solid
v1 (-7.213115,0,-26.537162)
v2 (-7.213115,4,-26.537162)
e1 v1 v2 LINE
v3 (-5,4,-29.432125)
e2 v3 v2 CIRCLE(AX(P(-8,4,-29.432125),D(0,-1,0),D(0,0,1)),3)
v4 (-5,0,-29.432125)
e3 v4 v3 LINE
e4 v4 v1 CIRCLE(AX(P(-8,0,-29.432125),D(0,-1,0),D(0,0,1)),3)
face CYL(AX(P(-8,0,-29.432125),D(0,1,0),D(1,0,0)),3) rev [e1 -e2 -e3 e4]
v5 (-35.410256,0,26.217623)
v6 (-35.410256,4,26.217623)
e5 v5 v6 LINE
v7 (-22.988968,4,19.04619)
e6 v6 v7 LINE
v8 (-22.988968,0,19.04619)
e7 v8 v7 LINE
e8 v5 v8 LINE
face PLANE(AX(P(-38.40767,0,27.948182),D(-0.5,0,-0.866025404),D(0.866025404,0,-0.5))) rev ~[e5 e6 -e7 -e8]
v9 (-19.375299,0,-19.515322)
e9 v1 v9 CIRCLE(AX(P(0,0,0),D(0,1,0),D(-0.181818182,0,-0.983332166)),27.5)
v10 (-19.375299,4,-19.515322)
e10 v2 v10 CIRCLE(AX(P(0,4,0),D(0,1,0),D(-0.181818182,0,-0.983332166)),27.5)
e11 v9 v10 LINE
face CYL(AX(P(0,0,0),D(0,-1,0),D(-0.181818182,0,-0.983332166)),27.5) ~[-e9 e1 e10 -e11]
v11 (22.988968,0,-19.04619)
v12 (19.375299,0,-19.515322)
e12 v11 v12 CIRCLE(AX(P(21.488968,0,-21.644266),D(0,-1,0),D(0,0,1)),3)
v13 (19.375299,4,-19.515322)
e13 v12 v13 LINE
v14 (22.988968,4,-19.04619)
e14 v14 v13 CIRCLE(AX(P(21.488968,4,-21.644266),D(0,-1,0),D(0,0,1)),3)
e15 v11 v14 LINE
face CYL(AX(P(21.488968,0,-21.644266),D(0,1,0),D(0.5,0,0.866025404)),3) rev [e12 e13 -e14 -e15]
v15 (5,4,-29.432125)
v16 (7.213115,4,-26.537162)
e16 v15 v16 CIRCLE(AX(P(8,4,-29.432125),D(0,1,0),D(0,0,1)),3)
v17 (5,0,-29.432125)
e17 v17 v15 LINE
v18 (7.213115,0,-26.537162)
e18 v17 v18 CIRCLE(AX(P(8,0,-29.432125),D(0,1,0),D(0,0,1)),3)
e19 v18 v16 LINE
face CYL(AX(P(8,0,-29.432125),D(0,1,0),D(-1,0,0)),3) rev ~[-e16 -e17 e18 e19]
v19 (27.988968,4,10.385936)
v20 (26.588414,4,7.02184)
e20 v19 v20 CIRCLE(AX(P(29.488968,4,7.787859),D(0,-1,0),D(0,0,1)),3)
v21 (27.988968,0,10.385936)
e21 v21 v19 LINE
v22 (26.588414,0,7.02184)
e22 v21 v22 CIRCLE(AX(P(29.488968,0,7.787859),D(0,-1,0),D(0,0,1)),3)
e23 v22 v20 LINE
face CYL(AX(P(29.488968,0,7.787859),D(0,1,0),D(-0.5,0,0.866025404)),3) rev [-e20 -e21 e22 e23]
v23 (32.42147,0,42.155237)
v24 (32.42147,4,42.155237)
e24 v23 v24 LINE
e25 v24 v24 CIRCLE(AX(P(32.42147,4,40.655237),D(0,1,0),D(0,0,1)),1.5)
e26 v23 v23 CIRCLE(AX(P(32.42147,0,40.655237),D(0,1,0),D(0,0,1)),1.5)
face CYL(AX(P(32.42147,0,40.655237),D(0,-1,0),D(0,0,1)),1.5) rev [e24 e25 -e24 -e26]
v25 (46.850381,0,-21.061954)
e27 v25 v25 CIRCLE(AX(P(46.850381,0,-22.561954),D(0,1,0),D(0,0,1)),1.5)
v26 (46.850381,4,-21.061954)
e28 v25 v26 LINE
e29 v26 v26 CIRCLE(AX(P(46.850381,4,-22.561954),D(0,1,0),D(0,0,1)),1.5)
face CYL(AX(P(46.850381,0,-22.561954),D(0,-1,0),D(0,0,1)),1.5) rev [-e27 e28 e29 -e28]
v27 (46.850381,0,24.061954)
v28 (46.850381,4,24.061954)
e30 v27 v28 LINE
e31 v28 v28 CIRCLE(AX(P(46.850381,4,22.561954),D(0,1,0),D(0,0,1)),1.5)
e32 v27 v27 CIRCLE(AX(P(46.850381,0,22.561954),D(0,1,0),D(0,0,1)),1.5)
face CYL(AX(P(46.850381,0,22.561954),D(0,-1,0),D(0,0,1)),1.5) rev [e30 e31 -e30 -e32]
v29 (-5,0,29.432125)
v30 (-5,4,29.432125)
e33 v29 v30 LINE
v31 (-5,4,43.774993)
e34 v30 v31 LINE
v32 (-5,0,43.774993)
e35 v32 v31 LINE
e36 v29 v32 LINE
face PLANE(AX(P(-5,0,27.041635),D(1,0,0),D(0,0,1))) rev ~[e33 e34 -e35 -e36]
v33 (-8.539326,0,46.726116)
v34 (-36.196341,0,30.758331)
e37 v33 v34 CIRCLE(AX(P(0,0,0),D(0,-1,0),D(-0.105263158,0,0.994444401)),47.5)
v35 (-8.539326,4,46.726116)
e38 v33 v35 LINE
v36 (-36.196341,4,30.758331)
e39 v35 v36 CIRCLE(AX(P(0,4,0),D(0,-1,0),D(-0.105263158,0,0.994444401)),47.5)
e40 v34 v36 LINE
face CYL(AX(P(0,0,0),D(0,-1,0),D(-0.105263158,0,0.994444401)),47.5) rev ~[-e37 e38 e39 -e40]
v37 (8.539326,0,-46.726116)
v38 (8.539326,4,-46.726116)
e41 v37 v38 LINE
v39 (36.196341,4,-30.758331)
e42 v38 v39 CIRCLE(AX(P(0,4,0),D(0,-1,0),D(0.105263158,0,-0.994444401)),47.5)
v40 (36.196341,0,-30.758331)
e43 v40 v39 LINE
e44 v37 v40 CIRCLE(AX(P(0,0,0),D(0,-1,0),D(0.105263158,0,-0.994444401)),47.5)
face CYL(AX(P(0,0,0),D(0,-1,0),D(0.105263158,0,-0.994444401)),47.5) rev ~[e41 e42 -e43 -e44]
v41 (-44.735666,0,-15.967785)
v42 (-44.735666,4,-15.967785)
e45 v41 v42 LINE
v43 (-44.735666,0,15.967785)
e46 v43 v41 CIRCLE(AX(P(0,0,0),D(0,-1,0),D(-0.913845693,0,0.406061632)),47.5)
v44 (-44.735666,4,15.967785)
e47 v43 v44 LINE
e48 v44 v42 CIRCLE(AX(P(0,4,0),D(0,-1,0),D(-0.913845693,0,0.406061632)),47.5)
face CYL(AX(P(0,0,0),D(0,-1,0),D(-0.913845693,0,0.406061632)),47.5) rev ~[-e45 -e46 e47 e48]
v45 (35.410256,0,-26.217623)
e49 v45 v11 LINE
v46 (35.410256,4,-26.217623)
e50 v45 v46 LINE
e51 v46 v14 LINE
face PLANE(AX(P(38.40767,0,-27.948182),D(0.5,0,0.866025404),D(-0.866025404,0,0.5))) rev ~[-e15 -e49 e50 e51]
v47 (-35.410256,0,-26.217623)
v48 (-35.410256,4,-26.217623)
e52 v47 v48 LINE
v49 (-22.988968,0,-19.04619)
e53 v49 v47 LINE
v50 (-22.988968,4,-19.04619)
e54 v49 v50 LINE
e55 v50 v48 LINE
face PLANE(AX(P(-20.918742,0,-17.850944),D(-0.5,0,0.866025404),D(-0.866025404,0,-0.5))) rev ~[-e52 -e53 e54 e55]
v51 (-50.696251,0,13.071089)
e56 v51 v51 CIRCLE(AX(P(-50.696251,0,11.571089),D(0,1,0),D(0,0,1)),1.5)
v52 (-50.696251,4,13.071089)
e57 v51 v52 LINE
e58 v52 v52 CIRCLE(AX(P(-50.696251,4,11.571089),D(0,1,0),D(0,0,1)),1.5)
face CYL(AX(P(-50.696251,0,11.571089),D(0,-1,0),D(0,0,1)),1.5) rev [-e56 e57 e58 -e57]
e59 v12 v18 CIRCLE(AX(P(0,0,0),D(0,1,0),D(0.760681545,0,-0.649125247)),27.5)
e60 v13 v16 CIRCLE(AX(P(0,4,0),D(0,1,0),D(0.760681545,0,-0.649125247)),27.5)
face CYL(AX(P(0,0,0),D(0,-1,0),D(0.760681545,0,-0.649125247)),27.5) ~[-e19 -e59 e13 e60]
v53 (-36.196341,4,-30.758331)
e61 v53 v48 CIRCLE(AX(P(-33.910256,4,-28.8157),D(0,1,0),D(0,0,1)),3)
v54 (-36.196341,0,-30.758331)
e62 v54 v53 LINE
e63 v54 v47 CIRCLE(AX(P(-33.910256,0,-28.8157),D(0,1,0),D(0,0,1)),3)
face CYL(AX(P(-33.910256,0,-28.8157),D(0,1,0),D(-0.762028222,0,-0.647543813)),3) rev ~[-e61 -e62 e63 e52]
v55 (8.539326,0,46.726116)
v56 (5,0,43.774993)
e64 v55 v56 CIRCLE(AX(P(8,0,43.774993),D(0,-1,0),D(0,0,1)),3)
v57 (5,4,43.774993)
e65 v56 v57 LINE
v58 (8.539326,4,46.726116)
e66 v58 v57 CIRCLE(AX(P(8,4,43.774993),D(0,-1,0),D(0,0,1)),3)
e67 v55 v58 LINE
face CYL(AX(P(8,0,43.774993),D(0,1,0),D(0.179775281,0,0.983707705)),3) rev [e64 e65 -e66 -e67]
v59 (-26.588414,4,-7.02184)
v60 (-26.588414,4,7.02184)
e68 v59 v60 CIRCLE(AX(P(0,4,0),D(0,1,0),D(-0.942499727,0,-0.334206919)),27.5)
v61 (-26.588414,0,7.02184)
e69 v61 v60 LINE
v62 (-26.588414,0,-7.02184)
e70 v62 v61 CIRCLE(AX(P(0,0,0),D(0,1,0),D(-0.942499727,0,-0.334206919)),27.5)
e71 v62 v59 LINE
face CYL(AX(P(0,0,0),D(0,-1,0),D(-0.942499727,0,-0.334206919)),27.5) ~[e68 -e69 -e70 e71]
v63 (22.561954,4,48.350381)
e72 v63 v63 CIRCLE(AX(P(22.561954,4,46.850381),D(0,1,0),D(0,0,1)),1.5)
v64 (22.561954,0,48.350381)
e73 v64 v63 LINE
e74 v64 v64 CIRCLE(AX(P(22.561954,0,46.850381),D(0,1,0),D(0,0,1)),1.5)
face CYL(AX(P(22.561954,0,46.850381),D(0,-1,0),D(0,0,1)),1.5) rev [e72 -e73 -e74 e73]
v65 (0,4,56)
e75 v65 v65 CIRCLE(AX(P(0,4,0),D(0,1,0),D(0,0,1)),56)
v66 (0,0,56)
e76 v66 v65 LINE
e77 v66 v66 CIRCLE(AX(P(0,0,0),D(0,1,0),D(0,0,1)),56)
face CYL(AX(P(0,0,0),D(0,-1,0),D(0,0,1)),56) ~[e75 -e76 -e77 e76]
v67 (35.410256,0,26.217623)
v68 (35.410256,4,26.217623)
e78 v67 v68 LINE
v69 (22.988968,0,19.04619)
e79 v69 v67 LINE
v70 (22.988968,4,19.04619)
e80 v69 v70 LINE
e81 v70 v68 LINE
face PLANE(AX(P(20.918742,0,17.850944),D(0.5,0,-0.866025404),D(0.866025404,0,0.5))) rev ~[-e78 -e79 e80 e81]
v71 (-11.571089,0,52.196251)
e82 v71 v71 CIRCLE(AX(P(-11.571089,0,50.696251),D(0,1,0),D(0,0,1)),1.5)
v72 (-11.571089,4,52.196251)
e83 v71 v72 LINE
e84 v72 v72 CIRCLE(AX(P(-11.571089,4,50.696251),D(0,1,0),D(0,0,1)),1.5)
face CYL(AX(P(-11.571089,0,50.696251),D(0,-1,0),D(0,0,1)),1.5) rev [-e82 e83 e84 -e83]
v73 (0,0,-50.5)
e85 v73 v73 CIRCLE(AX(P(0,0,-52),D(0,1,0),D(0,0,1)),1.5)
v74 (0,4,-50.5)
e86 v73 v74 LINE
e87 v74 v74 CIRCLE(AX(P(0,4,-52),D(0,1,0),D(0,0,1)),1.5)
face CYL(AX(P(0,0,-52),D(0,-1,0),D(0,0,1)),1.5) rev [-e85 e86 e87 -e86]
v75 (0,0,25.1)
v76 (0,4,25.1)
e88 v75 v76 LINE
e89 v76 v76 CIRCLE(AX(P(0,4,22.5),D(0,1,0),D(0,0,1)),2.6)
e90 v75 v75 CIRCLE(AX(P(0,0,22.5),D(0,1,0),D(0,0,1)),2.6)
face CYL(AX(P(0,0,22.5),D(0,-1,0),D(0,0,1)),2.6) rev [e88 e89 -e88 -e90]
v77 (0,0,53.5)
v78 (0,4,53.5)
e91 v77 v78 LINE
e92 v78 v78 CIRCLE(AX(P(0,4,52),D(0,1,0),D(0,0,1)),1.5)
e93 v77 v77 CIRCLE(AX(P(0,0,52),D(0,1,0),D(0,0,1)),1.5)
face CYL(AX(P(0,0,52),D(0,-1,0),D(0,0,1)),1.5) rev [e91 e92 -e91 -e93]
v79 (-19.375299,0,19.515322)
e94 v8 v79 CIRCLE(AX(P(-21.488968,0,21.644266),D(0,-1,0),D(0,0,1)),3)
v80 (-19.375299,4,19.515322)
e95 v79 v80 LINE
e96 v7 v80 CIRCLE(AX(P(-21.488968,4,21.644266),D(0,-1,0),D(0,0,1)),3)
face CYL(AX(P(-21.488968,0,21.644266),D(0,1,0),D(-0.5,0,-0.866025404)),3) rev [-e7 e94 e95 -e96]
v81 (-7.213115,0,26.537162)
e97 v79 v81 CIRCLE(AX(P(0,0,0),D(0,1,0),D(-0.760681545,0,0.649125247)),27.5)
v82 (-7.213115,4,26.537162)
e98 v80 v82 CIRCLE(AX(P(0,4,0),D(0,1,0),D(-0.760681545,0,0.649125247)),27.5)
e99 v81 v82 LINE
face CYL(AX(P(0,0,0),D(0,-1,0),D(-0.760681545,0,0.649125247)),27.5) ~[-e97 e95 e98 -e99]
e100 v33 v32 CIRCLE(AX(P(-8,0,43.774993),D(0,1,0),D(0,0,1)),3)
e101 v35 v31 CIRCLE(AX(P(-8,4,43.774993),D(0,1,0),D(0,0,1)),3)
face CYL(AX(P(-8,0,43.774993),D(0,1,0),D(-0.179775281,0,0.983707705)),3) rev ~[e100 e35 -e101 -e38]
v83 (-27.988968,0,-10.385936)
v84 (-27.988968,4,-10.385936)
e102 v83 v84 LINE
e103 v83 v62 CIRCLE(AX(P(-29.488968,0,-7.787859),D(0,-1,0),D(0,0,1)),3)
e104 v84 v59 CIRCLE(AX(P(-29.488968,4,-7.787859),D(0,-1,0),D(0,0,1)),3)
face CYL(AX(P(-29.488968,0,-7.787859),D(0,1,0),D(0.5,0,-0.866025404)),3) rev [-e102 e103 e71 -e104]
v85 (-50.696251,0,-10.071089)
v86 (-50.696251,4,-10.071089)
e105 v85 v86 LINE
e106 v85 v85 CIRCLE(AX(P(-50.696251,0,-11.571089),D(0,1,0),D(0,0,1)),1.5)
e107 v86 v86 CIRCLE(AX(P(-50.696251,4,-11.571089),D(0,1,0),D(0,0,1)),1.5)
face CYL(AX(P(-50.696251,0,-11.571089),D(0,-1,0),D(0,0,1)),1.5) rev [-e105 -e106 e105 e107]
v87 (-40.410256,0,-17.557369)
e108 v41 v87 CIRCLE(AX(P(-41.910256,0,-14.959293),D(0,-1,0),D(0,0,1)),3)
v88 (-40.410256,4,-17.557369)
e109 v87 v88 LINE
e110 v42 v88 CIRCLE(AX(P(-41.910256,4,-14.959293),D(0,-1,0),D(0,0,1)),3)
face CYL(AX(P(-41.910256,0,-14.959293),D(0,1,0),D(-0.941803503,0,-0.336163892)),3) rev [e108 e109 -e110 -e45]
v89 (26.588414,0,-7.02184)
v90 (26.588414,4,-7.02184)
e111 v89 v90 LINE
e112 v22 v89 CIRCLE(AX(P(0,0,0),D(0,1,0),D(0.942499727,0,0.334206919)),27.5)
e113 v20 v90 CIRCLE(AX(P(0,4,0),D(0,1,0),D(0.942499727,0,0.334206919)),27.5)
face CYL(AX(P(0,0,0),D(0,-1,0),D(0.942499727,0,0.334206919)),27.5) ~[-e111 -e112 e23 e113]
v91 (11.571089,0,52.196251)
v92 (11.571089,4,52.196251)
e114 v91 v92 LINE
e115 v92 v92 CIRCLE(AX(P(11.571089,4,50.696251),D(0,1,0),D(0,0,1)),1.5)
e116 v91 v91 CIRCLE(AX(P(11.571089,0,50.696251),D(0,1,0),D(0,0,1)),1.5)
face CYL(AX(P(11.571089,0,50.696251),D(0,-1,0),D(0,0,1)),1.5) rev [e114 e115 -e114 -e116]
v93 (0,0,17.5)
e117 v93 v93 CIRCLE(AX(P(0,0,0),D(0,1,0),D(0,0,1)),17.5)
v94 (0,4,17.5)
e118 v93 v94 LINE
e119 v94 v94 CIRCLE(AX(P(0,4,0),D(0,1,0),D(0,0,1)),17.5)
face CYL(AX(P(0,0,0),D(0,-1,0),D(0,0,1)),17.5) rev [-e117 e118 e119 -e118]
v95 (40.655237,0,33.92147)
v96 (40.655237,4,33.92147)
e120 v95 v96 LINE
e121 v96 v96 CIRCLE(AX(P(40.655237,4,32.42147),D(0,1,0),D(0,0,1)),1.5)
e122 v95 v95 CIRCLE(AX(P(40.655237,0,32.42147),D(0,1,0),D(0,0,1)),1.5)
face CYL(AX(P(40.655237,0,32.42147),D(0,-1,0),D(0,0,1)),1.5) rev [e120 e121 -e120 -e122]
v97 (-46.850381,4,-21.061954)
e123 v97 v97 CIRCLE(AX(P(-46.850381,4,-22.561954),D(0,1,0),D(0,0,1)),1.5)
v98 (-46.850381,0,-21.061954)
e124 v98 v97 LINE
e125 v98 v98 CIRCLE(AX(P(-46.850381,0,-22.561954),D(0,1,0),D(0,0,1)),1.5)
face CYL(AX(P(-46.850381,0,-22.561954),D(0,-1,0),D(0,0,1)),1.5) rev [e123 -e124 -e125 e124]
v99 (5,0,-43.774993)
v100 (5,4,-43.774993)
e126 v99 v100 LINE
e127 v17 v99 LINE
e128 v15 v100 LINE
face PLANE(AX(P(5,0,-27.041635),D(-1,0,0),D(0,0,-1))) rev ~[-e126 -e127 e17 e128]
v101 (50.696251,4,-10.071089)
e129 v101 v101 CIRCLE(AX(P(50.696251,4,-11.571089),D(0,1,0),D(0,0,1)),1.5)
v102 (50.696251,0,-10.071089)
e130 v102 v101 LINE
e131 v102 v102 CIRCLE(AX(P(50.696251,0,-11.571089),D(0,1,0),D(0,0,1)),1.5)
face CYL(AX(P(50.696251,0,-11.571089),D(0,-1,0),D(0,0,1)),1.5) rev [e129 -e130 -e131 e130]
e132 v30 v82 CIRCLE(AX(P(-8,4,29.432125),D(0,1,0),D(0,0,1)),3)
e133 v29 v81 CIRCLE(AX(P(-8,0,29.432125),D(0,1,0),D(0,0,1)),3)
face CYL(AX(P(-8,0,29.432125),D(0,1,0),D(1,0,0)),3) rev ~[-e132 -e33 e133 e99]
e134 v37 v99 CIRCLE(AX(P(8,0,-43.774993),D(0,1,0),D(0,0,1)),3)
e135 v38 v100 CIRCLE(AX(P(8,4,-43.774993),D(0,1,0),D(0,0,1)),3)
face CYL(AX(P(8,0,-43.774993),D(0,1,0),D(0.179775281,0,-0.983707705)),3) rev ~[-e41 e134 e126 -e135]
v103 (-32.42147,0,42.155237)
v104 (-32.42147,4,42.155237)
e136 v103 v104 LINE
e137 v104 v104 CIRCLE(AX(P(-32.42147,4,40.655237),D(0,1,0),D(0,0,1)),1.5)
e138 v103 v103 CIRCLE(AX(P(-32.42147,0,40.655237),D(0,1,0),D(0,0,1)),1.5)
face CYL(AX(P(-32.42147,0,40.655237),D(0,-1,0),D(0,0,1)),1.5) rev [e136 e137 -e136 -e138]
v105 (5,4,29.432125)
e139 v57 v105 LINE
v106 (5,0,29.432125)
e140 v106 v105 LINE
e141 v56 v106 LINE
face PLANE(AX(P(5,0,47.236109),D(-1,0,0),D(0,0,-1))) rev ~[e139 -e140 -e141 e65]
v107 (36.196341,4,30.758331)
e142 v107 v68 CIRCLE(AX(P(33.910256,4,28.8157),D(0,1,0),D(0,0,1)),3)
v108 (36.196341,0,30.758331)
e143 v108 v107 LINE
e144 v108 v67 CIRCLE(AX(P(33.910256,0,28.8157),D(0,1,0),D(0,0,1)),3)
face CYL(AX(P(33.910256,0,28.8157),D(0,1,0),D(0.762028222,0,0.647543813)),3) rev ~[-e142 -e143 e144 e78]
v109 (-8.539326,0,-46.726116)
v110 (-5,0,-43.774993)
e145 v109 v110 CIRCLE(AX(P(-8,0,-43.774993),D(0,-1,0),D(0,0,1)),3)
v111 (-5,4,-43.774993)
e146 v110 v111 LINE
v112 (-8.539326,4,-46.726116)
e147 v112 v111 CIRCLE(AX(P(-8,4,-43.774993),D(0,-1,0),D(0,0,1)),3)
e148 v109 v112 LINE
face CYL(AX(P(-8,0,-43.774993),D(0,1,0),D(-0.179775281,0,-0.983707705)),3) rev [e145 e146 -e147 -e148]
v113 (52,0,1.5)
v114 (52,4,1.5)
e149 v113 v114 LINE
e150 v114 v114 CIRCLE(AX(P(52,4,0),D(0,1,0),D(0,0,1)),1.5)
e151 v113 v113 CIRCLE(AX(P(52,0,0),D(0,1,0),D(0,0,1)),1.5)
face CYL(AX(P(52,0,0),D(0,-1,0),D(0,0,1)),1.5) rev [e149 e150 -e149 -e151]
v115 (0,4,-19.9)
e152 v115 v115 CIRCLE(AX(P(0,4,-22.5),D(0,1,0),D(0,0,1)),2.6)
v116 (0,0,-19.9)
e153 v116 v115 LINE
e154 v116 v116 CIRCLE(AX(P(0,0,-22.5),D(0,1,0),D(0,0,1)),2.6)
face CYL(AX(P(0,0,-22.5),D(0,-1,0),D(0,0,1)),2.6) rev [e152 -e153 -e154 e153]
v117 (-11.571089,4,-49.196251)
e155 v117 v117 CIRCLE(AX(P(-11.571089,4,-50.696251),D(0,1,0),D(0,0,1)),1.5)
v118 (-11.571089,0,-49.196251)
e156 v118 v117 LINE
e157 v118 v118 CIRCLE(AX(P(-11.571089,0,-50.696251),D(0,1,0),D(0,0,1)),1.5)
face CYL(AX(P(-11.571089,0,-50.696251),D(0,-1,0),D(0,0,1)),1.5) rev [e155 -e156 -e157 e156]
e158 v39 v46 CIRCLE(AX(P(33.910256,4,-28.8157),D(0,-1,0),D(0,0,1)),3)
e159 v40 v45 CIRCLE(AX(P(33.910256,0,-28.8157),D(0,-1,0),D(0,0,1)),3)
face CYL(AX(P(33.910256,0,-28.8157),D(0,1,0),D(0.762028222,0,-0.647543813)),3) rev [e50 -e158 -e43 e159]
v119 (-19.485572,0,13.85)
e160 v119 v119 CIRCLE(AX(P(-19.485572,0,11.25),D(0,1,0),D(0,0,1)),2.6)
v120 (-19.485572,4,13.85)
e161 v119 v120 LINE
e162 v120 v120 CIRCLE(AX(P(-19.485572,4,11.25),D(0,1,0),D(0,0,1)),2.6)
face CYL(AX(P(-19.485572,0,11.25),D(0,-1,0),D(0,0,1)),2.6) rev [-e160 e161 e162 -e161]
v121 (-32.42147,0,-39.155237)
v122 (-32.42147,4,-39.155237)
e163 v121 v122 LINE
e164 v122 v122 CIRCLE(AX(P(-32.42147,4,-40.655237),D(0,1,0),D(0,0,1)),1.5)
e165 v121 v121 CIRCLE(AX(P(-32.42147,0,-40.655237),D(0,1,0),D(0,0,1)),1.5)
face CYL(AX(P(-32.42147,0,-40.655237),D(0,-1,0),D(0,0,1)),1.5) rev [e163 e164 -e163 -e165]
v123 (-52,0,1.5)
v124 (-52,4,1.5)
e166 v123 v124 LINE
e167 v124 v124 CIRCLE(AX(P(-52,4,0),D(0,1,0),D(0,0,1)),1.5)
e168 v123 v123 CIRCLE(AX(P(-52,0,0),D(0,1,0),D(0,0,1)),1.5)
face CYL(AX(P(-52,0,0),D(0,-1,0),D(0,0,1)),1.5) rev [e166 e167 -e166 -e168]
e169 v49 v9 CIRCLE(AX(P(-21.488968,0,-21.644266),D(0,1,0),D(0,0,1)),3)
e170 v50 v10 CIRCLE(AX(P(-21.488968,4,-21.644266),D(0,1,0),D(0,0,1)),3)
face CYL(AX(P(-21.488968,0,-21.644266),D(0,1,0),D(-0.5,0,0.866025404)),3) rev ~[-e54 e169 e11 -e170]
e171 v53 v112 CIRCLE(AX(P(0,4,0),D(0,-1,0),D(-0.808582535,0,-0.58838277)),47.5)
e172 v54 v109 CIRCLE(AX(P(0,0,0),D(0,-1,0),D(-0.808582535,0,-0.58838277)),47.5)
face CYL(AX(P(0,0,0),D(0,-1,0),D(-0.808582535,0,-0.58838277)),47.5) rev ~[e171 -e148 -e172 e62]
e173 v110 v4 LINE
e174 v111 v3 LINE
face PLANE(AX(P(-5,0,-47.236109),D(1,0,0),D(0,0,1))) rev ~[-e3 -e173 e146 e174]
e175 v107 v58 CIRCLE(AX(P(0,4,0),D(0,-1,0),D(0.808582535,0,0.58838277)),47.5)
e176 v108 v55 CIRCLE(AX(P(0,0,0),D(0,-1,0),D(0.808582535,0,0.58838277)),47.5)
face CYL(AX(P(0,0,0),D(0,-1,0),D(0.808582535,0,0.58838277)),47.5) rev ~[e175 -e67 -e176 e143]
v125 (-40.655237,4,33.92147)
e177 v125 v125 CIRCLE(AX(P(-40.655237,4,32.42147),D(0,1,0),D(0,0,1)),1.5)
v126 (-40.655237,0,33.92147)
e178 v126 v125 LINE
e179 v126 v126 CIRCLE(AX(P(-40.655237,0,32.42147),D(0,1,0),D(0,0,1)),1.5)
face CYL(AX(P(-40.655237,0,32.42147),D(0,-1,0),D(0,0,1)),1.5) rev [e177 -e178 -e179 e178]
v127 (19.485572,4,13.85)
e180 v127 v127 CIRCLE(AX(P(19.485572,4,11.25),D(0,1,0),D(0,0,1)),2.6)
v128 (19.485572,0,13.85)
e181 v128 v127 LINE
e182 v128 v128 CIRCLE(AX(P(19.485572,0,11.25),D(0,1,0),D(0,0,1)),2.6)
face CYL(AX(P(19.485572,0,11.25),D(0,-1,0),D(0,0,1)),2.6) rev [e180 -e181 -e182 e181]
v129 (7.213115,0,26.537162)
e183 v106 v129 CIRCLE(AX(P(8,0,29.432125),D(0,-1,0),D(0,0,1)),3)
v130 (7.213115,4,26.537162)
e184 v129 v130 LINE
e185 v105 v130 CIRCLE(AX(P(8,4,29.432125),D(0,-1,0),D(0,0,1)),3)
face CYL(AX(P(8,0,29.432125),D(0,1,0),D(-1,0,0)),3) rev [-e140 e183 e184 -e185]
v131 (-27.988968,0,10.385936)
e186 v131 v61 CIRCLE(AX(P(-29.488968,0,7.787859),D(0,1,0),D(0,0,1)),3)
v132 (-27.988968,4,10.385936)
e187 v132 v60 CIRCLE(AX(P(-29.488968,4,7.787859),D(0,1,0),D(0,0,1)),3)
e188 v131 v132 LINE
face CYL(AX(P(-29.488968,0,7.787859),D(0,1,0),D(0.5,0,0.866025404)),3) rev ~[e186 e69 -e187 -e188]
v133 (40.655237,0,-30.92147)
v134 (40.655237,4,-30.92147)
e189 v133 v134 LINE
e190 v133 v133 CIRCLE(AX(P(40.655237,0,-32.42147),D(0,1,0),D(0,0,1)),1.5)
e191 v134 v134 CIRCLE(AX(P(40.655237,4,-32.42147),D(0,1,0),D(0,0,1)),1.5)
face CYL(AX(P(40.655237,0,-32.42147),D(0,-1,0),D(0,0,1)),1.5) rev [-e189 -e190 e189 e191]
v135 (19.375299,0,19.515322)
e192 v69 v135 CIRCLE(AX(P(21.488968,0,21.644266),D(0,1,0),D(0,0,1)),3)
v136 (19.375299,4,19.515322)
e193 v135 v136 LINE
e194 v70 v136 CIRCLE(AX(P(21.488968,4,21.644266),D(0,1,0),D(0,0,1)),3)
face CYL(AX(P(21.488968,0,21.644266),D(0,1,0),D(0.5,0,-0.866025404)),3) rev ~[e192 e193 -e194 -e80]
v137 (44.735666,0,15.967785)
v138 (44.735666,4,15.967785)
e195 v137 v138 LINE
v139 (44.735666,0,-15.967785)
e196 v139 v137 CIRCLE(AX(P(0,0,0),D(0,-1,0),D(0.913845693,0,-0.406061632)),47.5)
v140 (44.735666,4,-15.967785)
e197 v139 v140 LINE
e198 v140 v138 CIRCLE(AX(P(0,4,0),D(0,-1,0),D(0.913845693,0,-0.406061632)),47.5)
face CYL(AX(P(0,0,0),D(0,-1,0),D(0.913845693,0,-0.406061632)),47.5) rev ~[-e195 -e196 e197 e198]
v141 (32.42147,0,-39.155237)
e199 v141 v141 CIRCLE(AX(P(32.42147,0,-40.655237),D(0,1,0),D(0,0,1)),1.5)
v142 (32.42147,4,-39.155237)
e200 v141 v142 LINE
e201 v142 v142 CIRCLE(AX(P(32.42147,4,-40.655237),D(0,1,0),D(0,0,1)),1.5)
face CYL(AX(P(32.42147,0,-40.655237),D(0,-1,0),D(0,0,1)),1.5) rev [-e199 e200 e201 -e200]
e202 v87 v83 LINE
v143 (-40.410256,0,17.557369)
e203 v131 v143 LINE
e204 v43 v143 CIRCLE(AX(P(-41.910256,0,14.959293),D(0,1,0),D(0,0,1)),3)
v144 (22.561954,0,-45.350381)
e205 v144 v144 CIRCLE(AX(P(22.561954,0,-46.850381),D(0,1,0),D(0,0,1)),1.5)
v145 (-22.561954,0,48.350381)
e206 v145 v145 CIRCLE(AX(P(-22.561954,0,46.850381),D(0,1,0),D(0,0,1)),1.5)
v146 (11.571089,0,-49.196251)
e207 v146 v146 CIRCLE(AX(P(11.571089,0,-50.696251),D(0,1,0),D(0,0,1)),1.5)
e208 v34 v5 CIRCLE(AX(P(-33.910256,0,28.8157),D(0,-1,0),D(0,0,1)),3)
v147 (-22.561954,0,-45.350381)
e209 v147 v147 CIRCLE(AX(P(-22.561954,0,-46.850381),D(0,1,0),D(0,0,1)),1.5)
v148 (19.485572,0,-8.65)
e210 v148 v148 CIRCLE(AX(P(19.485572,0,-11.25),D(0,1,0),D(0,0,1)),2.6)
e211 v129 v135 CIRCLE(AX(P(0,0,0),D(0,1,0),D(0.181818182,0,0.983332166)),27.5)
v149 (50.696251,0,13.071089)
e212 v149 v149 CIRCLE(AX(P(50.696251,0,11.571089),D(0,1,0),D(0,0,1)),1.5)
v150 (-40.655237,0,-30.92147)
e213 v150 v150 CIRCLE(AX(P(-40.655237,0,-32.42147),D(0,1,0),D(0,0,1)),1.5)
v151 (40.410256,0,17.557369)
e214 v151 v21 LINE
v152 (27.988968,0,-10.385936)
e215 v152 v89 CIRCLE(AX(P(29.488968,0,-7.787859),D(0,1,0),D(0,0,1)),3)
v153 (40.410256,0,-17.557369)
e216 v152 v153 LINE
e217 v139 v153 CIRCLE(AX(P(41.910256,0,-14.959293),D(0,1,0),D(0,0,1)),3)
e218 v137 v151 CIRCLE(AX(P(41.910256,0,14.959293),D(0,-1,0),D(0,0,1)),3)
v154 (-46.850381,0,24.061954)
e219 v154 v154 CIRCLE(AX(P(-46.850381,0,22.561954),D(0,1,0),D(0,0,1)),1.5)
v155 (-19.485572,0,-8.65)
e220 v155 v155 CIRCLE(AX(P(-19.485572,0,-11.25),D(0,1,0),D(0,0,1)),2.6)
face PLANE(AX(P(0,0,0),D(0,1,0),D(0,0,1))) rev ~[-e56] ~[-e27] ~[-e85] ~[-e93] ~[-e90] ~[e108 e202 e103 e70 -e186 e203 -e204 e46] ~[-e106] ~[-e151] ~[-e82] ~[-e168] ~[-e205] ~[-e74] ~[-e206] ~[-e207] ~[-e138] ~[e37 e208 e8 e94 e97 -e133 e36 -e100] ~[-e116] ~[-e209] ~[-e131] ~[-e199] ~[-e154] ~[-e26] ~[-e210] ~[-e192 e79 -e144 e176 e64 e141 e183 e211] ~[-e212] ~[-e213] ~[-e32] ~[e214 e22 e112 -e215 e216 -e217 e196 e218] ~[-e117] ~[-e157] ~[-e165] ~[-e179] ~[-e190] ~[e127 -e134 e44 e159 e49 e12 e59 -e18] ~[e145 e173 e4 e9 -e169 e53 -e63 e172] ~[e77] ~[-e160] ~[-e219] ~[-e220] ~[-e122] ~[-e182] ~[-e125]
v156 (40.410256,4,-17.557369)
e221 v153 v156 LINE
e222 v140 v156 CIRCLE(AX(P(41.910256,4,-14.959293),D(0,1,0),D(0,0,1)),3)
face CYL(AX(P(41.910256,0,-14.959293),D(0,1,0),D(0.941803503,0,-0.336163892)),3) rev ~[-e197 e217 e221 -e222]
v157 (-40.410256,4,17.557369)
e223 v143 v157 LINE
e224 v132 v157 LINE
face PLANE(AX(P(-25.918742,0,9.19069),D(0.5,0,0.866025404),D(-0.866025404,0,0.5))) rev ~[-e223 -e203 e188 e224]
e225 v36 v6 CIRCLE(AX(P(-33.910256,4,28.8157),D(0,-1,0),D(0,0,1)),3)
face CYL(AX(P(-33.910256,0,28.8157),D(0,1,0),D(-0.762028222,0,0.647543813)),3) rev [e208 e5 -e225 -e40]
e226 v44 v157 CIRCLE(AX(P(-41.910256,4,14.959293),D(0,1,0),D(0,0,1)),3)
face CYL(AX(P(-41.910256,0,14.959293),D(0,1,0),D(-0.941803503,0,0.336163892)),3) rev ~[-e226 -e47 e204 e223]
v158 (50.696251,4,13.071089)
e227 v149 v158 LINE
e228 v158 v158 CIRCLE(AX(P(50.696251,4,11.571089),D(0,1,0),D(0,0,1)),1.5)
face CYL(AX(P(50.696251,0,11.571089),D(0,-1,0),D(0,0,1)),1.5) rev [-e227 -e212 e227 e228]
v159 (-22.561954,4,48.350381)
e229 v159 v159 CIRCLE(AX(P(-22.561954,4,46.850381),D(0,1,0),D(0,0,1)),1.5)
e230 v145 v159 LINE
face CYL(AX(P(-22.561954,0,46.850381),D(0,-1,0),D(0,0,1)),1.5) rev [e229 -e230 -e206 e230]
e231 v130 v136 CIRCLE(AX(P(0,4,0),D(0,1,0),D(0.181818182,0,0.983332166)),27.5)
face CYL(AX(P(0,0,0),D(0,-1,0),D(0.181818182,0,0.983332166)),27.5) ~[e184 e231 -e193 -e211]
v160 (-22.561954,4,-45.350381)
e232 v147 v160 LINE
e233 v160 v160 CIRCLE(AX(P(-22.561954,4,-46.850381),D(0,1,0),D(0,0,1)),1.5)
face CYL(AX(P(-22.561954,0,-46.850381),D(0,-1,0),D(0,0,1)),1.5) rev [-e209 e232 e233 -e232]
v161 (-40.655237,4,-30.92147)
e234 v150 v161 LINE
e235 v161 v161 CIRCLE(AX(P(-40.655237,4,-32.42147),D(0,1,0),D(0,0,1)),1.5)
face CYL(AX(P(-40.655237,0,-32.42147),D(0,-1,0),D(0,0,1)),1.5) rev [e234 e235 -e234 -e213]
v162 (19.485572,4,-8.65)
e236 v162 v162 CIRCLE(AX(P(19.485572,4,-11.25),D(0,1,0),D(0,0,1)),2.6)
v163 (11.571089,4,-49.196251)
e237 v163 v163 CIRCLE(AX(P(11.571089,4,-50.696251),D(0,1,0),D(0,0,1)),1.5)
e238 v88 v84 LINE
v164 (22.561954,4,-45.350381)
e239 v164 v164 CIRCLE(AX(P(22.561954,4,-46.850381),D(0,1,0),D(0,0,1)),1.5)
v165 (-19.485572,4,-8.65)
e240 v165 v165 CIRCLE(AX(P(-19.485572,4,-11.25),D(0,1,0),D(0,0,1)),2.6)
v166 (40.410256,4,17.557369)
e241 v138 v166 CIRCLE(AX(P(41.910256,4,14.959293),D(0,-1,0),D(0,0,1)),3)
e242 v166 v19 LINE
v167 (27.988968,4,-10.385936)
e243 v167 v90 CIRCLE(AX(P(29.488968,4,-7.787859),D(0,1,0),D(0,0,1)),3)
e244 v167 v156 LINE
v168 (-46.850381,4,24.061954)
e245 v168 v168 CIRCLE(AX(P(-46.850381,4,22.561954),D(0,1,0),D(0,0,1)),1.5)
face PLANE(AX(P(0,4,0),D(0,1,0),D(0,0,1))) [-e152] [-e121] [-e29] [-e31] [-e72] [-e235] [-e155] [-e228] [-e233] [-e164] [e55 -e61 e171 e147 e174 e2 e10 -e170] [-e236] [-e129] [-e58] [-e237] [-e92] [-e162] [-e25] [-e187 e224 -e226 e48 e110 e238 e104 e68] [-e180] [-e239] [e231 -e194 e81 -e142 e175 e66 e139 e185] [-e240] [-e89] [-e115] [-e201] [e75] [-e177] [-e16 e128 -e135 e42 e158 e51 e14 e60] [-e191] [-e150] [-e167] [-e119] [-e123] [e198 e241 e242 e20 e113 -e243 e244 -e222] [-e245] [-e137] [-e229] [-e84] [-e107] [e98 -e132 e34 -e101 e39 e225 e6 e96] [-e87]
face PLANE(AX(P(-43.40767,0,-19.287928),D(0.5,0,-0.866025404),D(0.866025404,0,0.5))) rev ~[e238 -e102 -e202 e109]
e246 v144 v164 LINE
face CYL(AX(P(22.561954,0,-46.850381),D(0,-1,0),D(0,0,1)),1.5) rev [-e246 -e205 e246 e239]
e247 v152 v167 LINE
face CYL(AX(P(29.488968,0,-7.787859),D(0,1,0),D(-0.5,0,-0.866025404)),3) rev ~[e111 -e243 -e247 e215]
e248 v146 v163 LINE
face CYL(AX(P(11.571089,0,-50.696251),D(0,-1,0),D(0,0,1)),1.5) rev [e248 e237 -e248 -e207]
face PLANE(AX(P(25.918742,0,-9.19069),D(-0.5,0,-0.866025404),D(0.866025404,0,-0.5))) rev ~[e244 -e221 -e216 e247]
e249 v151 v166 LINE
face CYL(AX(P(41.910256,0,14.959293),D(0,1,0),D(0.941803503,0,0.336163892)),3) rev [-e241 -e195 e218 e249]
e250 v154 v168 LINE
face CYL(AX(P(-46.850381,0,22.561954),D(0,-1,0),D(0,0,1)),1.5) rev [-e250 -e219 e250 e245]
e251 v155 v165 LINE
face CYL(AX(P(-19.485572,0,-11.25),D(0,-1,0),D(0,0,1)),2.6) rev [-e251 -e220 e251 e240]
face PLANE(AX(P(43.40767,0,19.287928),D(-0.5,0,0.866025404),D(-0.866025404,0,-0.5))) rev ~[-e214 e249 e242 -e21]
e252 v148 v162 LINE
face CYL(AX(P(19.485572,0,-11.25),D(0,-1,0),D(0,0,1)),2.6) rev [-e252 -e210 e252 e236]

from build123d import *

# Parameters (mm, degrees)
SKETCH_1_R      = 56
SKETCH_1_R_2    = 2.6
SKETCH_1_R_3    = 17.5
SKETCH_1_R_4    = 1.5
EXTRUDE_1_DEPTH = 4
FILLET_1_R      = 3


with BuildPart() as part:
    # 草图1 → 凸台-拉伸1 (new body)
    with BuildSketch(Plane(origin=(0, 0, 0), x_dir=(1, 0, 0), z_dir=(0, 1, 0))):
        with Locations(Location((0, 0, 0), (0, 0, 270))):
            Circle(SKETCH_1_R)
        with BuildLine():
            Line((-5, 47.236109069), (-5, 27.041634566))
            ThreePointArc((-5, 27.041634566), (-13.75, 23.815698604), (-20.918742494, 17.850944302))
            Line((-20.918742494, 17.850944302), (-38.40767043, 27.948181554))
            ThreePointArc((-38.40767043, 27.948181554), (-23.75, 41.13620668), (-5, 47.236109069))
        make_face(mode=Mode.SUBTRACT)
        with BuildLine():
            Line((-43.40767043, 19.287927516), (-25.918742494, 9.190690264))
            ThreePointArc((-25.918742494, 9.190690264), (-27.5, 0), (-25.918742494, -9.190690264))
            Line((-25.918742494, -9.190690264), (-43.40767043, -19.287927516))
            ThreePointArc((-43.40767043, -19.287927516), (-47.5, 0), (-43.40767043, 19.287927516))
        make_face(mode=Mode.SUBTRACT)
        with BuildLine():
            Line((-38.40767043, -27.948181554), (-20.918742494, -17.850944302))
            ThreePointArc((-20.918742494, -17.850944302), (-13.75, -23.815698604), (-5, -27.041634566))
            Line((-5, -27.041634566), (-5, -47.236109069))
            ThreePointArc((-5, -47.236109069), (-23.75, -41.13620668), (-38.40767043, -27.948181554))
        make_face(mode=Mode.SUBTRACT)
        with BuildLine():
            Line((5, -47.236109069), (5, -27.041634566))
            ThreePointArc((5, -27.041634566), (13.75, -23.815698604), (20.918742494, -17.850944302))
            Line((20.918742494, -17.850944302), (38.40767043, -27.948181554))
            ThreePointArc((38.40767043, -27.948181554), (23.75, -41.13620668), (5, -47.236109069))
        make_face(mode=Mode.SUBTRACT)
        with BuildLine():
            Line((43.40767043, -19.287927516), (25.918742494, -9.190690264))
            ThreePointArc((25.918742494, -9.190690264), (27.5, 0), (25.918742494, 9.190690264))
            Line((25.918742494, 9.190690264), (43.40767043, 19.287927516))
            ThreePointArc((43.40767043, 19.287927516), (47.5, 0), (43.40767043, -19.287927516))
        make_face(mode=Mode.SUBTRACT)
        with BuildLine():
            Line((38.40767043, 27.948181554), (20.918742494, 17.850944302))
            ThreePointArc((20.918742494, 17.850944302), (13.75, 23.815698604), (5, 27.041634566))
            Line((5, 27.041634566), (5, 47.236109069))
            ThreePointArc((5, 47.236109069), (23.75, 41.13620668), (38.40767043, 27.948181554))
        make_face(mode=Mode.SUBTRACT)
        with Locations(Location((0, 22.5, 0), (0, 0, 270))):
            Circle(SKETCH_1_R_2, mode=Mode.SUBTRACT)
        with Locations(Location((-19.485571585, -11.25, 0), (0, 0, 270))):
            Circle(SKETCH_1_R_2, mode=Mode.SUBTRACT)
        with Locations(Location((0, -22.5, 0), (0, 0, 270))):
            Circle(SKETCH_1_R_2, mode=Mode.SUBTRACT)
        with Locations(Location((19.485571585, -11.25, 0), (0, 0, 270))):
            Circle(SKETCH_1_R_2, mode=Mode.SUBTRACT)
        with Locations(Location((-19.485571585, 11.25, 0), (0, 0, 270))):
            Circle(SKETCH_1_R_2, mode=Mode.SUBTRACT)
        with Locations(Location((0, 0, 0), (0, 0, 270))):
            Circle(SKETCH_1_R_3, mode=Mode.SUBTRACT)
        with Locations(Location((19.485571585, 11.25, 0), (0, 0, 270))):
            Circle(SKETCH_1_R_2, mode=Mode.SUBTRACT)
        with Locations(Location((-32.421469697, -40.655237088, 0), (0, 0, 270))):
            Circle(SKETCH_1_R_4, mode=Mode.SUBTRACT)
        with Locations(Location((-40.655237088, -32.421469697, 0), (0, 0, 270))):
            Circle(SKETCH_1_R_4, mode=Mode.SUBTRACT)
        with Locations(Location((-22.561954434, -46.850381131, 0), (0, 0, 270))):
            Circle(SKETCH_1_R_4, mode=Mode.SUBTRACT)
        with Locations(Location((-11.571088566, -50.696251433, 0), (0, 0, 270))):
            Circle(SKETCH_1_R_4, mode=Mode.SUBTRACT)
        with Locations(Location((-46.850381131, -22.561954434, 0), (0, 0, 270))):
            Circle(SKETCH_1_R_4, mode=Mode.SUBTRACT)
        with Locations(Location((-50.696251433, -11.571088566, 0), (0, 0, 270))):
            Circle(SKETCH_1_R_4, mode=Mode.SUBTRACT)
        with Locations(Location((-52, 0, 0), (0, 0, 270))):
            Circle(SKETCH_1_R_4, mode=Mode.SUBTRACT)
        with Locations(Location((0, -52, 0), (0, 0, 270))):
            Circle(SKETCH_1_R_4, mode=Mode.SUBTRACT)
        with Locations(Location((11.571088566, -50.696251433, 0), (0, 0, 270))):
            Circle(SKETCH_1_R_4, mode=Mode.SUBTRACT)
        with Locations(Location((22.561954434, -46.850381131, 0), (0, 0, 270))):
            Circle(SKETCH_1_R_4, mode=Mode.SUBTRACT)
        with Locations(Location((32.421469697, -40.655237088, 0), (0, 0, 270))):
            Circle(SKETCH_1_R_4, mode=Mode.SUBTRACT)
        with Locations(Location((40.655237088, -32.421469697, 0), (0, 0, 270))):
            Circle(SKETCH_1_R_4, mode=Mode.SUBTRACT)
        with Locations(Location((46.850381131, -22.561954434, 0), (0, 0, 270))):
            Circle(SKETCH_1_R_4, mode=Mode.SUBTRACT)
        with Locations(Location((50.696251433, -11.571088566, 0), (0, 0, 270))):
            Circle(SKETCH_1_R_4, mode=Mode.SUBTRACT)
        with Locations(Location((-50.696251433, 11.571088566, 0), (0, 0, 270))):
            Circle(SKETCH_1_R_4, mode=Mode.SUBTRACT)
        with Locations(Location((-46.850381131, 22.561954434, 0), (0, 0, 270))):
            Circle(SKETCH_1_R_4, mode=Mode.SUBTRACT)
        with Locations(Location((-40.655237088, 32.421469697, 0), (0, 0, 270))):
            Circle(SKETCH_1_R_4, mode=Mode.SUBTRACT)
        with Locations(Location((-32.421469697, 40.655237088, 0), (0, 0, 270))):
            Circle(SKETCH_1_R_4, mode=Mode.SUBTRACT)
        with Locations(Location((-22.561954434, 46.850381131, 0), (0, 0, 270))):
            Circle(SKETCH_1_R_4, mode=Mode.SUBTRACT)
        with Locations(Location((-11.571088566, 50.696251433, 0), (0, 0, 270))):
            Circle(SKETCH_1_R_4, mode=Mode.SUBTRACT)
        with Locations(Location((40.655237088, 32.421469697, 0), (0, 0, 270))):
            Circle(SKETCH_1_R_4, mode=Mode.SUBTRACT)
        with Locations(Location((22.561954434, 46.850381131, 0), (0, 0, 270))):
            Circle(SKETCH_1_R_4, mode=Mode.SUBTRACT)
        with Locations(Location((11.571088566, 50.696251433, 0), (0, 0, 270))):
            Circle(SKETCH_1_R_4, mode=Mode.SUBTRACT)
        with Locations(Location((0, 52, 0), (0, 0, 270))):
            Circle(SKETCH_1_R_4, mode=Mode.SUBTRACT)
        with Locations(Location((46.850381131, 22.561954434, 0), (0, 0, 270))):
            Circle(SKETCH_1_R_4, mode=Mode.SUBTRACT)
        with Locations(Location((32.421469697, 40.655237088, 0), (0, 0, 270))):
            Circle(SKETCH_1_R_4, mode=Mode.SUBTRACT)
        with Locations(Location((52, 0, 0), (0, 0, 270))):
            Circle(SKETCH_1_R_4, mode=Mode.SUBTRACT)
        with Locations(Location((50.696251433, 11.571088566, 0), (0, 0, 270))):
            Circle(SKETCH_1_R_4, mode=Mode.SUBTRACT)
    extrude(amount=EXTRUDE_1_DEPTH)

    # 圆角1
    fillet_1_edges = [part.edges().sort_by_distance(p)[0] for p in [
        (5, 2, 27.041634566),
        (5, 2, 47.236109069),
        (38.40767043, 2, 27.948181554),
        (20.918742494, 2, 17.850944302),
        (43.40767043, 2, -19.287927516),
        (25.918742494, 2, -9.190690264),
        (25.918742494, 2, 9.190690264),
        (43.40767043, 2, 19.287927516),
        (5, 2, -47.236109069),
        (5, 2, -27.041634566),
        (20.918742494, 2, -17.850944302),
        (38.40767043, 2, -27.948181554),
        (-38.40767043, 2, -27.948181554),
        (-20.918742494, 2, -17.850944302),
        (-5, 2, -27.041634566),
        (-5, 2, -47.236109069),
        (-43.40767043, 2, 19.287927516),
        (-25.918742494, 2, 9.190690264),
        (-25.918742494, 2, -9.190690264),
        (-43.40767043, 2, -19.287927516),
        (-5, 2, 47.236109069),
        (-5, 2, 27.041634566),
        (-20.918742494, 2, 17.850944302),
        (-38.40767043, 2, 27.948181554),
    ]]
    fillet(fillet_1_edges, radius=FILLET_1_R)


solid = part.part
